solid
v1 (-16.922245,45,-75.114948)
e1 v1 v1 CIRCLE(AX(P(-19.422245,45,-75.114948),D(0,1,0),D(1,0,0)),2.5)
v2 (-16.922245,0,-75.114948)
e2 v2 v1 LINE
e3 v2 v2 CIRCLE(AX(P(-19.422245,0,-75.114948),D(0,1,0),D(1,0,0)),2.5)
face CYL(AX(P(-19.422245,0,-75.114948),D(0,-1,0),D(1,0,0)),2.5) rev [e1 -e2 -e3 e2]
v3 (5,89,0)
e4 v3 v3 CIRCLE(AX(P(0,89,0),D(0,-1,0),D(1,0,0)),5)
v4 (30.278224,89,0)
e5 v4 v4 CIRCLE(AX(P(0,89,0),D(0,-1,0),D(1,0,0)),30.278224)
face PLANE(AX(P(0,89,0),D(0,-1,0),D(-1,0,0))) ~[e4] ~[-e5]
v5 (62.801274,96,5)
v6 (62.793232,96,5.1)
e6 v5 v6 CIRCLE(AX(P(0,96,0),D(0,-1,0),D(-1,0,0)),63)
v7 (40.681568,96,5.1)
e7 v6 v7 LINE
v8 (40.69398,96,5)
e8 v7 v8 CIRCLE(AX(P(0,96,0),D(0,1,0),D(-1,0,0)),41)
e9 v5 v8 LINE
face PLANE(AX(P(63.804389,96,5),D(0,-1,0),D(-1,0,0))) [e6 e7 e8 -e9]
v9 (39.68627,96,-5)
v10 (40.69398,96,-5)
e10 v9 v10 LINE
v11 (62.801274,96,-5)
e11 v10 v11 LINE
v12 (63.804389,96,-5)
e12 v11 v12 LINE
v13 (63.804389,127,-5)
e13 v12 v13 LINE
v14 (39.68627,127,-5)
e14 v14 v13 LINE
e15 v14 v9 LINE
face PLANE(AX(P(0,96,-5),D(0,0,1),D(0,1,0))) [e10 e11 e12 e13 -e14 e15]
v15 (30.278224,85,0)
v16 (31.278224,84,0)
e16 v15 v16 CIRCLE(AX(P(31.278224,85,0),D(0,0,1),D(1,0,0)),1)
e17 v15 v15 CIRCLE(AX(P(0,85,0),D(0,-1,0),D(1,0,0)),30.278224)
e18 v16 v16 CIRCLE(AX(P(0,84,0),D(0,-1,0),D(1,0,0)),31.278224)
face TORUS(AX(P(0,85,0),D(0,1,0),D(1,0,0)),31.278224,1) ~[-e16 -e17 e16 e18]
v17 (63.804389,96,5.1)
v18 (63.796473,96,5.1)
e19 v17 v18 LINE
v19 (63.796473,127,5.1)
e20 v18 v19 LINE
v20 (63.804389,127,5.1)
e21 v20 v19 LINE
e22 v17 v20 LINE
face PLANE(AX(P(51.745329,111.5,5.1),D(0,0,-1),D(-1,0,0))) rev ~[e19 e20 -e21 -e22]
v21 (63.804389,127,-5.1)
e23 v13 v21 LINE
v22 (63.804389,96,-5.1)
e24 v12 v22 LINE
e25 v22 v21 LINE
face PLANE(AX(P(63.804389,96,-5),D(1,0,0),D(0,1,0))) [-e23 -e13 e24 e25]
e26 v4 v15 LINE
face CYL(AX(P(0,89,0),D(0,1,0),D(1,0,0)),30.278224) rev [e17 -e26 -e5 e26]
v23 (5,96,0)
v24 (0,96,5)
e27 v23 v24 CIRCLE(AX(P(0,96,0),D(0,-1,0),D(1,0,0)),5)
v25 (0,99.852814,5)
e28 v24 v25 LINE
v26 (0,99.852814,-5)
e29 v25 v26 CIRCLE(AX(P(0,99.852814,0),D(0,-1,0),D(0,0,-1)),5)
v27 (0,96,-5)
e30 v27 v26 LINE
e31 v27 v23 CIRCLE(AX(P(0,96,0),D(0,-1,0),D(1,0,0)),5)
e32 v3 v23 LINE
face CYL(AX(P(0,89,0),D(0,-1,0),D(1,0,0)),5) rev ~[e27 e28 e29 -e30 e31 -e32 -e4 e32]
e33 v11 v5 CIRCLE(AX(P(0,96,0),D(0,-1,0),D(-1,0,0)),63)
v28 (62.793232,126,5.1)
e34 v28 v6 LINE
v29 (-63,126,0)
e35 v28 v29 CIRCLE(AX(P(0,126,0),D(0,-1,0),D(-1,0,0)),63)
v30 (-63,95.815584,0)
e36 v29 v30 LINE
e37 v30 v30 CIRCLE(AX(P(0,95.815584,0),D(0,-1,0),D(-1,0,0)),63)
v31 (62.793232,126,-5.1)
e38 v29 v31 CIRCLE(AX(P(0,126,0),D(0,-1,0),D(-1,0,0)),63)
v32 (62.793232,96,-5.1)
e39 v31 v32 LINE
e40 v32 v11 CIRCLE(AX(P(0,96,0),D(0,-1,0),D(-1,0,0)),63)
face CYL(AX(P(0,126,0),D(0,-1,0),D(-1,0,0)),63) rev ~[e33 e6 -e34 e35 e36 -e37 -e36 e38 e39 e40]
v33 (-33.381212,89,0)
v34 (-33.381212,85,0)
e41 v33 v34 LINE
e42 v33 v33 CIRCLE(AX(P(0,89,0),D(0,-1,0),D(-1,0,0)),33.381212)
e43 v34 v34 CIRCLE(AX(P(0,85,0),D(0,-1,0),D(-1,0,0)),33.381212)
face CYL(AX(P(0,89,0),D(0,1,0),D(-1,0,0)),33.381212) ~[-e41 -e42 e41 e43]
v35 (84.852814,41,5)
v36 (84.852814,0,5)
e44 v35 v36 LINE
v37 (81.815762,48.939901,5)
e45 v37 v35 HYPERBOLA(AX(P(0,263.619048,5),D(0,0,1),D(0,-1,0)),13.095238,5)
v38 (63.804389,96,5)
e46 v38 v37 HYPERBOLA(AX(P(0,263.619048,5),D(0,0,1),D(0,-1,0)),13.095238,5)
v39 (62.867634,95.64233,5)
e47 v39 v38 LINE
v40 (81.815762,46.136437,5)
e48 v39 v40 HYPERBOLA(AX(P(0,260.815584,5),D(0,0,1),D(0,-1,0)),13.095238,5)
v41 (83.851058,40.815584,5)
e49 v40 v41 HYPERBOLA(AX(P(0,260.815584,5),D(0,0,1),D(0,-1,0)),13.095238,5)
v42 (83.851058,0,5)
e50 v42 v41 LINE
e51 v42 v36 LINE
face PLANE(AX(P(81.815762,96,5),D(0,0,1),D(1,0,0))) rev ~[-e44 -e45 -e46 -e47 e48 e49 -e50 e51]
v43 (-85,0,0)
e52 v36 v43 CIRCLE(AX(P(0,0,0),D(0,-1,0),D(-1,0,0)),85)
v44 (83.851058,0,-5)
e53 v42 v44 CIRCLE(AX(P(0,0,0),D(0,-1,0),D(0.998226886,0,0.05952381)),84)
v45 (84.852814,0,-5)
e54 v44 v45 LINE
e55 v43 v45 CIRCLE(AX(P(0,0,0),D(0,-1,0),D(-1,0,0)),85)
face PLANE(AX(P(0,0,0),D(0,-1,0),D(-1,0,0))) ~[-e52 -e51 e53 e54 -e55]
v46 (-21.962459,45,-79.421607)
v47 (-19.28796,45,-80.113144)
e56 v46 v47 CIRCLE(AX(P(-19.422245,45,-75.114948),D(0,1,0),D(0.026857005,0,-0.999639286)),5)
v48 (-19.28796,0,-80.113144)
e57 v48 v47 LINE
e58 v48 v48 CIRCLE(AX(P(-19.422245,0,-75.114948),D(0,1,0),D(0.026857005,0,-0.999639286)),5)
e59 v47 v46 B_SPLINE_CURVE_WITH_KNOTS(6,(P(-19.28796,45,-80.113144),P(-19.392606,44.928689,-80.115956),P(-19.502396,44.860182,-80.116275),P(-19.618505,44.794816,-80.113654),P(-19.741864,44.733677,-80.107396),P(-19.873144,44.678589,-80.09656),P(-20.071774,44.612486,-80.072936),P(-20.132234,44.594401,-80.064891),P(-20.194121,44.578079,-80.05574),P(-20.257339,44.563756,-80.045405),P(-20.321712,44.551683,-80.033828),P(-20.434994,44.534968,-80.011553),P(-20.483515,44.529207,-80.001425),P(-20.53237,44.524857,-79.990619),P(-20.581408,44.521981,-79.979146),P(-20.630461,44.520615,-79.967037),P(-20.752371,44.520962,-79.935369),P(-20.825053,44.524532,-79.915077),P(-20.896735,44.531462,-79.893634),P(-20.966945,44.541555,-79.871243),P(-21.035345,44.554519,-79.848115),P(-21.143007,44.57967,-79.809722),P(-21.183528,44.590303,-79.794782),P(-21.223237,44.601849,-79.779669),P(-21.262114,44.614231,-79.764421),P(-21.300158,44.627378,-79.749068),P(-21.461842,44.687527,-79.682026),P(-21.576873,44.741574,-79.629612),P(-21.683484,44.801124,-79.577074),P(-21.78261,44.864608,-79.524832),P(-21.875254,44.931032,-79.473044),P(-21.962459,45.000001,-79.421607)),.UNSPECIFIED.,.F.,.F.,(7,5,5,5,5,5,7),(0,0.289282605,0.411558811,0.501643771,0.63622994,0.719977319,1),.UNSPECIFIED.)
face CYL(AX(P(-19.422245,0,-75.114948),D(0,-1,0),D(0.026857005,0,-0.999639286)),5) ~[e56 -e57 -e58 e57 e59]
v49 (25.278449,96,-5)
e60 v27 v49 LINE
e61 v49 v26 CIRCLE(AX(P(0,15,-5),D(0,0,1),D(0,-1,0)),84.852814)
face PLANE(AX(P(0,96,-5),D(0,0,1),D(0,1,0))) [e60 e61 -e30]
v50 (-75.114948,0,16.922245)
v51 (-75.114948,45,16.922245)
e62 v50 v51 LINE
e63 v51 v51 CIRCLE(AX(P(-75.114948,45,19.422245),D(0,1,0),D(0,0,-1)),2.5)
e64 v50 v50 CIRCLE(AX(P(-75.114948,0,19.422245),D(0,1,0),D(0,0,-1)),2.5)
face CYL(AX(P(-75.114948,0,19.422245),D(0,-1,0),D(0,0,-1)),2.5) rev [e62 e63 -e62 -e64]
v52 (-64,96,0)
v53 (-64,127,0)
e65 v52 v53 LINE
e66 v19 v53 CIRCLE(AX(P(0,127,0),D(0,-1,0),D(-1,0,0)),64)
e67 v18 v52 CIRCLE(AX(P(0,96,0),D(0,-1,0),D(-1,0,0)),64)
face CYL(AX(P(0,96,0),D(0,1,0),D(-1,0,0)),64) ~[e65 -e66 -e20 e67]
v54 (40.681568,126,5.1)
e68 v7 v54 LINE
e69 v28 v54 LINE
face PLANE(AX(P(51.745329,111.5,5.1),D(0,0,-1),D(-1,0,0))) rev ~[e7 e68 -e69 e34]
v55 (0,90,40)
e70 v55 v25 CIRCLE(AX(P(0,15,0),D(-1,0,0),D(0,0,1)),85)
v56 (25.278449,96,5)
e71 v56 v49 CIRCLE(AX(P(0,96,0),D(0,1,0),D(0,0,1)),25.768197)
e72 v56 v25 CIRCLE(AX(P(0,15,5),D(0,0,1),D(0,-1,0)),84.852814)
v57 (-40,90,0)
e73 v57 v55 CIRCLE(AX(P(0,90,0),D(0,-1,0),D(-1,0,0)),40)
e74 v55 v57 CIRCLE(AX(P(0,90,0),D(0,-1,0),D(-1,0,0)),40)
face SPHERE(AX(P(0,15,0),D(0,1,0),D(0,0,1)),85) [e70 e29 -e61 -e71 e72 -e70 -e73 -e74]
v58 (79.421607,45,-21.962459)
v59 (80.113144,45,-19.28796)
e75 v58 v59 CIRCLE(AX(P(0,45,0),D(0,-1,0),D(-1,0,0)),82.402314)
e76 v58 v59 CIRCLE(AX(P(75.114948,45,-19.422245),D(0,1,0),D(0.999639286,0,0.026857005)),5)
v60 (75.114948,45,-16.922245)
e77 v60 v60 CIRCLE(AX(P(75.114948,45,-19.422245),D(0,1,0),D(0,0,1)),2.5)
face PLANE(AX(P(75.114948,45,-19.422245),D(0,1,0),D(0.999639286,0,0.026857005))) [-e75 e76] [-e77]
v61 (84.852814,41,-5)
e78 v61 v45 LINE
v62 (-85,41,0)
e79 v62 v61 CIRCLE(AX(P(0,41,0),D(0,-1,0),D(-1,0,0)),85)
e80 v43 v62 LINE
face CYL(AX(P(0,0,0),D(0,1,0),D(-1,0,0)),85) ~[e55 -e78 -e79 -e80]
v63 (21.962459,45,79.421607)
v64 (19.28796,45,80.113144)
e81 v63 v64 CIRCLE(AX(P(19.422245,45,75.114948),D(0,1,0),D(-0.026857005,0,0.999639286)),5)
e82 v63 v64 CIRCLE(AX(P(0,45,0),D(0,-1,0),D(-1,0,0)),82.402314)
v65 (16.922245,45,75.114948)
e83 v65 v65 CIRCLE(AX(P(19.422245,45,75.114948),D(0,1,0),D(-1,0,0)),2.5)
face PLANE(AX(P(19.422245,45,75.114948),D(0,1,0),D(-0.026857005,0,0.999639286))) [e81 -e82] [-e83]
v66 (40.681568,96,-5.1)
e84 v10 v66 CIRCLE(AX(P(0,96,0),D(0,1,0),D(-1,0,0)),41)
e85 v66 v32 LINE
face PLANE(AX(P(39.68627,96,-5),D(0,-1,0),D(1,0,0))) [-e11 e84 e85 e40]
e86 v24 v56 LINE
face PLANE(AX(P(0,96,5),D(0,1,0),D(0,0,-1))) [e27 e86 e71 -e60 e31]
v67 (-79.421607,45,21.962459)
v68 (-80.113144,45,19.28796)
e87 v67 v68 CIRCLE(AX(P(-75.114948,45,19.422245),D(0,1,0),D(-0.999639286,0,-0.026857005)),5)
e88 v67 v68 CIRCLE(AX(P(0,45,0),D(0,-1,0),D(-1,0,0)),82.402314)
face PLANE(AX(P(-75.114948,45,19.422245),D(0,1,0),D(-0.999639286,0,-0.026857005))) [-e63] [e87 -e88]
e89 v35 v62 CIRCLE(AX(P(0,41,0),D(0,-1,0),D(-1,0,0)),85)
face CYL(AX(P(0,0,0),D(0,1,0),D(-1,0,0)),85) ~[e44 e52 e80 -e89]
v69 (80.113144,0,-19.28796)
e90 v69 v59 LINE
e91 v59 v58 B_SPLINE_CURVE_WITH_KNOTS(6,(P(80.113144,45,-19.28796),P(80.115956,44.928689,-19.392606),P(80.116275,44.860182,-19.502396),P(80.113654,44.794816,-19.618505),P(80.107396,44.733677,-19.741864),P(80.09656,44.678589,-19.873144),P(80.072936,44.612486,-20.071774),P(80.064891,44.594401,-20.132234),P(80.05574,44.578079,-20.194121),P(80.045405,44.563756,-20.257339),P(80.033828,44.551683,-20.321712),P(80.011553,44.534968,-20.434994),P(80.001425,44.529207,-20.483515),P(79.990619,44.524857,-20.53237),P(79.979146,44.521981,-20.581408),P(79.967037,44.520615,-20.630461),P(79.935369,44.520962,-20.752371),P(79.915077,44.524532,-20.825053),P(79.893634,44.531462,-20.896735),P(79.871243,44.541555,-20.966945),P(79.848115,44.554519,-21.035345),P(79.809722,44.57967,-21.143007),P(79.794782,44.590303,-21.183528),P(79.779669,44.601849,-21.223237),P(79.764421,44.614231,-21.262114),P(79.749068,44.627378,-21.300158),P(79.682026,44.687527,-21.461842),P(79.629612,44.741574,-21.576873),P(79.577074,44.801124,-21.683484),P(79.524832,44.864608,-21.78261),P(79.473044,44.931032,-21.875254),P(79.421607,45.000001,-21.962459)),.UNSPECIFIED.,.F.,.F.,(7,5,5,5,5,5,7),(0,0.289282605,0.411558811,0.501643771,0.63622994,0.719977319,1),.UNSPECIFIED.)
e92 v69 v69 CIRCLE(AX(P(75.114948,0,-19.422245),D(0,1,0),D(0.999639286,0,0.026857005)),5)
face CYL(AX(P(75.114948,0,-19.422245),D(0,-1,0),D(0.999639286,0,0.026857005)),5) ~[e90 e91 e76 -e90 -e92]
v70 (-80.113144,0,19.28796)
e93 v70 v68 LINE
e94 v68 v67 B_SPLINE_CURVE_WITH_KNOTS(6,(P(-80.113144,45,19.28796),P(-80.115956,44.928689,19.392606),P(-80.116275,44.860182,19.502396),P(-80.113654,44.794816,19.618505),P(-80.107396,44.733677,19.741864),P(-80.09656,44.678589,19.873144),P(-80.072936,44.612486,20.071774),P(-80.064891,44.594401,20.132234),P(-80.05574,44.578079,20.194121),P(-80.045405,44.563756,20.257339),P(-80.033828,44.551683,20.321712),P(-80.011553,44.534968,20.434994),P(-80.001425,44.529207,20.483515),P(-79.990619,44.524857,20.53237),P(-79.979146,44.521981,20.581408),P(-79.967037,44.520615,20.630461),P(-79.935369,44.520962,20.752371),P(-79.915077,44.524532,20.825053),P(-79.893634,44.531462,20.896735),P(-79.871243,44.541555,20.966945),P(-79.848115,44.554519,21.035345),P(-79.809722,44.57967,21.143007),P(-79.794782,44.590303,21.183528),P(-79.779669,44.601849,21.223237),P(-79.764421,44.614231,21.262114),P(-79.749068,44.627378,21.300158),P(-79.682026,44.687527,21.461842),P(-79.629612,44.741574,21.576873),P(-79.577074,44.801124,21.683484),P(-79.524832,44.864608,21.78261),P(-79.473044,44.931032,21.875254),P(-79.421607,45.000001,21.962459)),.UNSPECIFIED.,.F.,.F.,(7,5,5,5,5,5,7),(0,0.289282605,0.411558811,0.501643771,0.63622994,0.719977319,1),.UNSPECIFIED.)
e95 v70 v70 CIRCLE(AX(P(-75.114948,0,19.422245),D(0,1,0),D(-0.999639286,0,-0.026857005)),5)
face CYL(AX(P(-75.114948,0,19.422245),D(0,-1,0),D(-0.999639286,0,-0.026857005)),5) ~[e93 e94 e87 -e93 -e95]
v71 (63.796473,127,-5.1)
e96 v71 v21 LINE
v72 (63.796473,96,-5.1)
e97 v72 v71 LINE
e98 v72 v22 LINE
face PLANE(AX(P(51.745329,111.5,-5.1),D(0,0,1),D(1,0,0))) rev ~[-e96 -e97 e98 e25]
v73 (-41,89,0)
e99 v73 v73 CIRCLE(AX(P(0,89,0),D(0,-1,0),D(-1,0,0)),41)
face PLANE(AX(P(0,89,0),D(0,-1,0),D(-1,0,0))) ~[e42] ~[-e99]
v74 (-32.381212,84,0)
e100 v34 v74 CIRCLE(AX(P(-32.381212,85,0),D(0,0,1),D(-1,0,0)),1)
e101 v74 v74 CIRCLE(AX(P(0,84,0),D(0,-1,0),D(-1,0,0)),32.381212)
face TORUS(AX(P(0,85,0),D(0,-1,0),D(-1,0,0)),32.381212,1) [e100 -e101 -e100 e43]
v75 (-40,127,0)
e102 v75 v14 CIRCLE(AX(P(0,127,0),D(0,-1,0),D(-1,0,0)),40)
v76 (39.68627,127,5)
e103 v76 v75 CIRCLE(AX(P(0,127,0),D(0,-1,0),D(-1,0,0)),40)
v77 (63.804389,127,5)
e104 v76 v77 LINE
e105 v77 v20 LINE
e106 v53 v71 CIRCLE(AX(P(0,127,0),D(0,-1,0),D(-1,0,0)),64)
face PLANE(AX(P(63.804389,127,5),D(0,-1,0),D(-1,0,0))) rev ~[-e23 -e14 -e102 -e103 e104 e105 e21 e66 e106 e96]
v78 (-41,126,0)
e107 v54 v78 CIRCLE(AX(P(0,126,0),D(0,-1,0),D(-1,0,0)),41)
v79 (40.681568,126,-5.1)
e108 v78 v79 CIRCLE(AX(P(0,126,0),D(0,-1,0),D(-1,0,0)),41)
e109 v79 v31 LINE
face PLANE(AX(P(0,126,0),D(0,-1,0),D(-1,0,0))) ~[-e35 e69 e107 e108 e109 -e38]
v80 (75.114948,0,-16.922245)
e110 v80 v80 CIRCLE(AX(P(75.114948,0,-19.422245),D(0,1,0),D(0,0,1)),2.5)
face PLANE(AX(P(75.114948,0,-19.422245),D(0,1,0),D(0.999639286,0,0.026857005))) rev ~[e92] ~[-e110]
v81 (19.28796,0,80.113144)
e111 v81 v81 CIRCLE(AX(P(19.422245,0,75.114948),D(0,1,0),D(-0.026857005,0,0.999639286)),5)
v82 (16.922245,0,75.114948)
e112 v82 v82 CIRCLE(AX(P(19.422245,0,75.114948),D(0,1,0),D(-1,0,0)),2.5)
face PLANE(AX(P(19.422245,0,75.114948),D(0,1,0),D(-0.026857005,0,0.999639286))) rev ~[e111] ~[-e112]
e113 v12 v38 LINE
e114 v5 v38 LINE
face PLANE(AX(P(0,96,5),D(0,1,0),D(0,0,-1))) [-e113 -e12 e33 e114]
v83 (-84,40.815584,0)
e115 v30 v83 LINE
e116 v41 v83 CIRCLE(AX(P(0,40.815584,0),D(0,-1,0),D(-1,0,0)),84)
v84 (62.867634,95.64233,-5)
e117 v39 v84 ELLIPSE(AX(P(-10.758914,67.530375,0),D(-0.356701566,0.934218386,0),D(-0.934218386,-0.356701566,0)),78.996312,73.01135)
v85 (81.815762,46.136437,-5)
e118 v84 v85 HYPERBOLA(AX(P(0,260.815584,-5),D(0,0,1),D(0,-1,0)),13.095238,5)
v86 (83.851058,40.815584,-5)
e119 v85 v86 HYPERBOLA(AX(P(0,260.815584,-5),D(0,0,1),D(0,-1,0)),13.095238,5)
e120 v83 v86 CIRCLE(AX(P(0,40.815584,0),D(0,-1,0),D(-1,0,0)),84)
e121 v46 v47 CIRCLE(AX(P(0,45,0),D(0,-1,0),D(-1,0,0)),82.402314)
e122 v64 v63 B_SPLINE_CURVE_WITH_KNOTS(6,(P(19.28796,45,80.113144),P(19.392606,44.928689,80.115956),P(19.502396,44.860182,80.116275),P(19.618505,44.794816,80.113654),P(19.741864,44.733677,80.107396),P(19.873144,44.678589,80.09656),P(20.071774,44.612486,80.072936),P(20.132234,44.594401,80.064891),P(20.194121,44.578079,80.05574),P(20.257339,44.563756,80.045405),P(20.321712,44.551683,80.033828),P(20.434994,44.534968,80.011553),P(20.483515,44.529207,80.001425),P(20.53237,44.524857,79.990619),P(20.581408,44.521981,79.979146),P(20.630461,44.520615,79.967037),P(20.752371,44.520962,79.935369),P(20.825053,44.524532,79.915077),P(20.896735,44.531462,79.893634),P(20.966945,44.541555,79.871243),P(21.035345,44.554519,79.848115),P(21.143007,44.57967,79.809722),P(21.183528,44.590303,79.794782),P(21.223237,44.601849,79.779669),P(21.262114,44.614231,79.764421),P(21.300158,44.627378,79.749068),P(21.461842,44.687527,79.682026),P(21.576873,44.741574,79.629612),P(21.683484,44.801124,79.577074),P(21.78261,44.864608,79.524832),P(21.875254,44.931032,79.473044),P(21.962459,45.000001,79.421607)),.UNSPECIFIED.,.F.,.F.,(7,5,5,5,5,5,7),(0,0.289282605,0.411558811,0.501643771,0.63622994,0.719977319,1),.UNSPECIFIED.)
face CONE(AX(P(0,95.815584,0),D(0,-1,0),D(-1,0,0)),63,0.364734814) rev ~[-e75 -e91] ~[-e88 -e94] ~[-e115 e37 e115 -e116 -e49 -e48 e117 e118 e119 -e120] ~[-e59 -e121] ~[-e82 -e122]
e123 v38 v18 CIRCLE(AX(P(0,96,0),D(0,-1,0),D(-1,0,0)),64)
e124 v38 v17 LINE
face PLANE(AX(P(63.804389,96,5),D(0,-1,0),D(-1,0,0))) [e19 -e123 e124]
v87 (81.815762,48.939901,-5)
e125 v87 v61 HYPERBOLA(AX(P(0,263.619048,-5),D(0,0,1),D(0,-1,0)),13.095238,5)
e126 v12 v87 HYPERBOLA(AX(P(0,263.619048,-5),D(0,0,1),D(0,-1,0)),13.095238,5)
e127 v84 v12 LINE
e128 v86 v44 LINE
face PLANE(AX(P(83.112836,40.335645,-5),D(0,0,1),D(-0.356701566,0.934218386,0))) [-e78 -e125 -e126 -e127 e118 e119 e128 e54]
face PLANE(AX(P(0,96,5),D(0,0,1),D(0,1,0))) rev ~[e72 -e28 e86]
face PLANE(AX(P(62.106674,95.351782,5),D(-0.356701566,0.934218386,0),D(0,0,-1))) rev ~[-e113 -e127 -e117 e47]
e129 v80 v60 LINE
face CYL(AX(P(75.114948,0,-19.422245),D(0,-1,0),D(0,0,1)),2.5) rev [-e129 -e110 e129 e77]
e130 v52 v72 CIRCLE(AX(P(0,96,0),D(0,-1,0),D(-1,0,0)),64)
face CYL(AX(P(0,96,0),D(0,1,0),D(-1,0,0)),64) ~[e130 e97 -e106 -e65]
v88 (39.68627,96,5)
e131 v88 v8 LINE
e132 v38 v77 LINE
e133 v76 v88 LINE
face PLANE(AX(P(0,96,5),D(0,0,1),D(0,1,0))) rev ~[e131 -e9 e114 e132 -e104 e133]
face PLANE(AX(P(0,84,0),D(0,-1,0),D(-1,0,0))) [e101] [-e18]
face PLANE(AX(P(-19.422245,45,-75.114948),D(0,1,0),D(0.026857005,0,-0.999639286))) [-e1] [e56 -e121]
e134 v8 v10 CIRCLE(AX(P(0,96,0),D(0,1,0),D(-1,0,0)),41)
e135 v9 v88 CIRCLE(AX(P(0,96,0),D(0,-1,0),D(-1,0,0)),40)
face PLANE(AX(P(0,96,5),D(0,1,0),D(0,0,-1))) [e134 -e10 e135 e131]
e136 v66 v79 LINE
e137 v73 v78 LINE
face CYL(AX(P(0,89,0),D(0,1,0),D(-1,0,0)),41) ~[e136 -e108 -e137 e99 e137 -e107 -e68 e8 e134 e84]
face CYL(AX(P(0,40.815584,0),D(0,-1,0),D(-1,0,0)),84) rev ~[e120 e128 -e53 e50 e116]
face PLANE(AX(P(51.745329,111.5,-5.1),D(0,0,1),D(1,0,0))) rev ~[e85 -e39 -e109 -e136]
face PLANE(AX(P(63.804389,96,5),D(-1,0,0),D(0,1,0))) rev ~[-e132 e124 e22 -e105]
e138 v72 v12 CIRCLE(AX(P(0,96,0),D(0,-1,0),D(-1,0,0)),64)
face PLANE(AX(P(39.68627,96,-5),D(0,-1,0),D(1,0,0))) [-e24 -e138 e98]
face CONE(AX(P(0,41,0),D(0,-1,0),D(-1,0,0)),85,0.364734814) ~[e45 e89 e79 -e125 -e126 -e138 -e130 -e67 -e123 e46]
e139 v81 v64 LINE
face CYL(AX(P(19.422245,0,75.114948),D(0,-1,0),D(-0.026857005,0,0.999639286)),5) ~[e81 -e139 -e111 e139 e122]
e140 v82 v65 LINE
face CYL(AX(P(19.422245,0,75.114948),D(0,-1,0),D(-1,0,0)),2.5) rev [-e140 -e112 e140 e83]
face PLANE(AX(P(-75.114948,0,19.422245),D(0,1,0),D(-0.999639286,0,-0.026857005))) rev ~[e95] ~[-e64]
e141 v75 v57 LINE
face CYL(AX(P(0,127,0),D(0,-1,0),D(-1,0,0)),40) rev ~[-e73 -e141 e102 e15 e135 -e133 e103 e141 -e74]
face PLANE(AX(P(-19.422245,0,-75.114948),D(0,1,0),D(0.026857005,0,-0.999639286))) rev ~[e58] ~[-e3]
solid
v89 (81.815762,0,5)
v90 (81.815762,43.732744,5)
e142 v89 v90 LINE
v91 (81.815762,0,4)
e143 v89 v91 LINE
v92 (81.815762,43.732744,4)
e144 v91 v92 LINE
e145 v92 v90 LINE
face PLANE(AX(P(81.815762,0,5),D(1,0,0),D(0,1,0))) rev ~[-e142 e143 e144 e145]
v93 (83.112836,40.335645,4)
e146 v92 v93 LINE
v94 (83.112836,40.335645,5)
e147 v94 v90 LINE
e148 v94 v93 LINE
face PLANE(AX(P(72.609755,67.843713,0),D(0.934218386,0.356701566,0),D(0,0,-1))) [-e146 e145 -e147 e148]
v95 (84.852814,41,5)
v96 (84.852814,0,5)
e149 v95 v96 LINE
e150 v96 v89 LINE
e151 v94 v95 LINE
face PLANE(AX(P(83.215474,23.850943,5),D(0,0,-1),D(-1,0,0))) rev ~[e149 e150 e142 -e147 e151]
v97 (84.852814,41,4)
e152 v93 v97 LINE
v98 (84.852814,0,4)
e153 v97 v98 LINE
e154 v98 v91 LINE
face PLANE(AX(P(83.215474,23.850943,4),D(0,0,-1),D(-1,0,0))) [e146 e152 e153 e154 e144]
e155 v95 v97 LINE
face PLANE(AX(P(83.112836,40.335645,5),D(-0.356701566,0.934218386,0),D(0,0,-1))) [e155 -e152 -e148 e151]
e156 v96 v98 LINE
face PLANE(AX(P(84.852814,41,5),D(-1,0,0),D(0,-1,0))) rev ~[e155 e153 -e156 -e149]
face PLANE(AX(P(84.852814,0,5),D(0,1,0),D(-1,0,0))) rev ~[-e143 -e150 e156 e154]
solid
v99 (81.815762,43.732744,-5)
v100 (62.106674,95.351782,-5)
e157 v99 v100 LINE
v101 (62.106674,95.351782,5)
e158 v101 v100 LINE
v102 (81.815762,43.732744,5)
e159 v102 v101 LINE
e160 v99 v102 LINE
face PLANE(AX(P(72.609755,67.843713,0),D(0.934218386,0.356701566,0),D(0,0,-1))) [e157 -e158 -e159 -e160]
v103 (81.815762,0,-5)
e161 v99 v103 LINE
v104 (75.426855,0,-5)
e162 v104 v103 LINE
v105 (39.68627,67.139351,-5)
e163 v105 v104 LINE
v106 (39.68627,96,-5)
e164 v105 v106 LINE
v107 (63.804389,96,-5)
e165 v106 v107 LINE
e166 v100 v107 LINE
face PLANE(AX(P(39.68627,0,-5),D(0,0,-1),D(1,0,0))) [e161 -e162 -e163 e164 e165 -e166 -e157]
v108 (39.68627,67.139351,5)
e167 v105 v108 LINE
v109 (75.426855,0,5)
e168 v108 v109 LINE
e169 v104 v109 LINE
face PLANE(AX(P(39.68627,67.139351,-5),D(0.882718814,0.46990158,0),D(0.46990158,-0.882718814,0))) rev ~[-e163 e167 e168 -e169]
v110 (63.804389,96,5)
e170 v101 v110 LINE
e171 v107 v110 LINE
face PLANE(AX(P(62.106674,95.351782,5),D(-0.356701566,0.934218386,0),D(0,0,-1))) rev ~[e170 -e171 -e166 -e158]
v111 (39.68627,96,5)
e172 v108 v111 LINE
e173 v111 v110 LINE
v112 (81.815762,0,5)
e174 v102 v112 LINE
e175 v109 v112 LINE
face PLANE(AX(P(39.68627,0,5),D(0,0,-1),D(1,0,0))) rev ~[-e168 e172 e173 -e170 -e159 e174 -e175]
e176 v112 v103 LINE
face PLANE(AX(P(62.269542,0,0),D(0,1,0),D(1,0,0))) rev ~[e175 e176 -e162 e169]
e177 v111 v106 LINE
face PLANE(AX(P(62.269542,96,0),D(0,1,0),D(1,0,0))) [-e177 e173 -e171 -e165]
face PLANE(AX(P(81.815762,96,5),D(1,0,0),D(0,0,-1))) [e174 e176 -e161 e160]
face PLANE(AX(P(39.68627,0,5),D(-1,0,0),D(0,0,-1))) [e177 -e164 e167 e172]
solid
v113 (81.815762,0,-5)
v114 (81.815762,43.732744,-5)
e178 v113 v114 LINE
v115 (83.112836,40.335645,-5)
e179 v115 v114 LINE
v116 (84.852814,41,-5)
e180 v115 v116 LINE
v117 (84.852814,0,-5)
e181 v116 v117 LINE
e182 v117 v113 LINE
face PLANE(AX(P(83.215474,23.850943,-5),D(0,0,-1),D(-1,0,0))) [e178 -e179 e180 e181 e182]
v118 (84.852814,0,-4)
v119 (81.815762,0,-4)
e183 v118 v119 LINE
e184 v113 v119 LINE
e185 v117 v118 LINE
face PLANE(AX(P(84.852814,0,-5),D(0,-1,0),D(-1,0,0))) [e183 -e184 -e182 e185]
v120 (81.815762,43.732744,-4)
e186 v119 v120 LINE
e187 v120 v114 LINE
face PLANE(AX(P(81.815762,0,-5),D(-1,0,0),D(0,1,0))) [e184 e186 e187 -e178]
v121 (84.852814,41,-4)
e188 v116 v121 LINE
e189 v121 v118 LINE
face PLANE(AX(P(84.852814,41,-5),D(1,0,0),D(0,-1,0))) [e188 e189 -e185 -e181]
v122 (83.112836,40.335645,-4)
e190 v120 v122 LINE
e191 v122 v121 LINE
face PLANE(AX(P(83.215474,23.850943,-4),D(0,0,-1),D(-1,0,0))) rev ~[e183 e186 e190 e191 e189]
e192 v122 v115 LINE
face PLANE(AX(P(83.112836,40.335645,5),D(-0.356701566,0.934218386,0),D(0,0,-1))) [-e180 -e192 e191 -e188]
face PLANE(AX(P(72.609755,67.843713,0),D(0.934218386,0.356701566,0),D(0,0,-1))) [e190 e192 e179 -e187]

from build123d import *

# Parameters (mm, degrees)
DOME4_FACE_RADIUS        = 40
DOME4_HEIGHT             = 10
SKETCH4_R                = 5
SKETCH4_R_2              = 2.5
BOSS_EXTRUDE1_DEPTH      = 45
CIRPATTERN1_COUNT        = 4
SKETCH5_W                = 10
SKETCH5_H                = 31
CUT_EXTRUDE2_DEPTH       = 89.861003778
SKETCH6_W                = 24.118118898
SKETCH6_H                = 31
BOSS_EXTRUDE2_DEPTH      = 0.1
SKETCH7_W                = 24.118118898
SKETCH7_H                = 31
BOSS_EXTRUDE3_DEPTH      = 0.1
SKETCH8_W                = 45.166544076
SKETCH8_H                = 10
BOSS_EXTRUDE5_DEPTH      = 96
CUT_EXTRUDE13_DEPTH      = 20
SKETCH12_W               = 3.037052207
SKETCH12_H               = 10
CUT_EXTRUDE15_DEPTH      = 190
SKETCH13_W               = 10
SKETCH13_H               = 96
CUT_EXTRUDE16_DEPTH      = 190
BOSS_EXTRUDE7_DEPTH      = 1
BOSS_EXTRUDE9_DEPTH      = 1
CUT_EXTRUDE17_DEPTH      = 31
CUT_EXTRUDE17_DEPTH_BACK = 2
SKETCH17_W               = 10
SKETCH17_H               = 58.890017455
SKETCH18_R               = 5
CUT_EXTRUDE18_DEPTH      = 42
SKETCH19_R               = 33.381211514
SKETCH19_R_2             = 30.278223776
BOSS_EXTRUDE10_DEPTH     = 5
FILLET2_R                = 1


with BuildPart() as part:
    # Sketch1 → Revolve1 (revolve)
    with BuildSketch(Plane.XY, mode=Mode.PRIVATE) as revolve1_sk:
        Polygon((85, 0), (85, 41), (64, 96), (64, 127), (40, 127), (40, 90), (0, 90), (0, 89), (41, 89), (41, 126), (63, 126), (63, 95.815583613), (84, 40.815583613), (84, 0), align=None)
    revolve(revolve1_sk.sketch.rotate(Axis((0, 90, 0), (0, -1, 0)), 180), axis=Axis((0, 90, 0), (0, -1, 0)))

    # Dome4: a dome of height H over a round flat face of radius A is a cap of a sphere of radius (A * A + H * H) / (2 * H)
    dome4_r = (DOME4_FACE_RADIUS * DOME4_FACE_RADIUS + DOME4_HEIGHT * DOME4_HEIGHT) / (2 * DOME4_HEIGHT)
    dome4_base = Plane((0, 90, 0), z_dir=(0, 1, 0))
    with Locations(dome4_base.offset(DOME4_HEIGHT - dome4_r)):
        dome4_ball = Sphere(dome4_r, mode=Mode.PRIVATE)
    add(split(dome4_ball, bisect_by=dome4_base, keep=Keep.TOP, mode=Mode.PRIVATE))

    # Sketch4 → Boss-Extrude1 (add)
    with BuildSketch(Plane(origin=(0, 0, 0), x_dir=(1, 0, 0), z_dir=(0, 1, 0))):
        with Locations(Location((-75.114947985, -19.422245118, 0), (0, 0, 178.461021893))):
            Circle(SKETCH4_R)
        with Locations(Location((-75.114947985, -19.422245118, 0), (0, 0, 90))):
            Circle(SKETCH4_R_2, mode=Mode.SUBTRACT)
    boss_extrude1 = extrude(amount=BOSS_EXTRUDE1_DEPTH)

    # CirPattern1: Boss-Extrude1 ×4 about axis
    cirpattern1_axis = Axis((0, 0, 0), (0, 1, 0))
    for i in range(1, CIRPATTERN1_COUNT):
        add(boss_extrude1.rotate(cirpattern1_axis, i * 360 / CIRPATTERN1_COUNT))

    # Sketch5 → Cut-Extrude2 (cut)
    with BuildSketch(Plane(origin=(0, 0, 0), x_dir=(0, 0, -1), z_dir=(1, 0, 0))):
        with Locations((0, 111.5)):
            Rectangle(SKETCH5_W, SKETCH5_H)
    extrude(amount=CUT_EXTRUDE2_DEPTH, mode=Mode.SUBTRACT)

    # Sketch6 → Boss-Extrude2 (add)
    with BuildSketch(Plane(origin=(0, 0, 5), x_dir=(-1, 0, 0), z_dir=(0, 0, -1))):
        with Locations((-51.745329115, 111.5)):
            Rectangle(SKETCH6_W, SKETCH6_H)
    extrude(amount=-BOSS_EXTRUDE2_DEPTH)

    # Sketch7 → Boss-Extrude3 (add)
    with BuildSketch(Plane.XY.offset(-5)):
        with Locations((51.745329115, 111.5)):
            Rectangle(SKETCH7_W, SKETCH7_H)
    extrude(amount=-BOSS_EXTRUDE3_DEPTH)


with BuildPart() as body_2:
    # Sketch8 → Boss-Extrude5 (new body)
    with BuildSketch(Plane(origin=(0, 0, 0), x_dir=(1, 0, 0), z_dir=(0, 1, 0))):
        with Locations((62.269541704, 0)):
            Rectangle(SKETCH8_W, SKETCH8_H)
    extrude(amount=BOSS_EXTRUDE5_DEPTH)

    # Sketch11 → Cut-Extrude13 (cut)
    with BuildSketch(Plane(origin=(0, 0, -5), x_dir=(-1, 0, 0), z_dir=(0, 0, -1))):
        Polygon((-39.686269666, 67.139351032), (-75.426855006, 0), (-39.686269666, 0), align=None)
    extrude(amount=-CUT_EXTRUDE13_DEPTH, mode=Mode.SUBTRACT)


with BuildPart() as cut_extrude15_tool:
    # Sketch12 → Cut-Extrude15 (new body)
    with BuildSketch(Plane(origin=(0, 96, 0), x_dir=(1, 0, 0), z_dir=(0, 1, 0))):
        with Locations((83.334287639, 0)):
            Rectangle(SKETCH12_W, SKETCH12_H)
    extrude(amount=-CUT_EXTRUDE15_DEPTH)


with BuildPart() as part_1:
    add(part.part)

    # Cut-Extrude15: cut by cut_extrude15_tool
    add(cut_extrude15_tool.part, mode=Mode.SUBTRACT)

    # Sketch13 → Cut-Extrude16 (cut)
    with BuildSketch(Plane(origin=(81.815761535, 0, 0), x_dir=(0, 0, -1), z_dir=(1, 0, 0))):
        with Locations((0, 48)):
            Rectangle(SKETCH13_W, SKETCH13_H)
    extrude(amount=CUT_EXTRUDE16_DEPTH, mode=Mode.SUBTRACT)


with BuildPart() as body_2_1:
    add(body_2.part)

    # Cut-Extrude15: cut by cut_extrude15_tool
    add(cut_extrude15_tool.part, mode=Mode.SUBTRACT)


with BuildPart() as body_3:
    # Sketch14 → Boss-Extrude7 (new body)
    with BuildSketch(Plane(origin=(0, 0, 5), x_dir=(-1, 0, 0), z_dir=(0, 0, -1))):
        Polygon((-81.815761535, 48.939900976), (-84.852813742, 41), (-84.852813742, 0), (-81.815761535, 0), align=None)
    extrude(amount=BOSS_EXTRUDE7_DEPTH)


with BuildPart() as body_4:
    # Sketch15 → Boss-Extrude9 (new body)
    with BuildSketch(Plane.XY.offset(-5)):
        Polygon((81.815761535, 48.939900976), (84.852813742, 41), (84.852813742, 0), (81.815761535, 0), align=None)
    extrude(amount=BOSS_EXTRUDE9_DEPTH)


with BuildPart() as cut_extrude17_tool:
    # Sketch17 → Cut-Extrude17 (new, two sides: drawn at the far end of the back side and taken through both)
    with BuildSketch(Plane(origin=(87.847663012, 33.541834968, 0), x_dir=(0, 0, -1), z_dir=(0.9342183861793726, 0.35670156563212446, 0)).offset(-CUT_EXTRUDE17_DEPTH_BACK)):
        with Locations((0, 37.480831051)):
            Rectangle(SKETCH17_W, SKETCH17_H)
    extrude(amount=CUT_EXTRUDE17_DEPTH + CUT_EXTRUDE17_DEPTH_BACK)


with BuildPart() as part_2:
    add(part_1.part)

    # Cut-Extrude17: cut by cut_extrude17_tool
    add(cut_extrude17_tool.part, mode=Mode.SUBTRACT)

    # Sketch18 → Cut-Extrude18 (cut)
    with BuildSketch(Plane.XZ.offset(-89)):
        Circle(SKETCH18_R)
    extrude(amount=-CUT_EXTRUDE18_DEPTH, mode=Mode.SUBTRACT)

    # Sketch19 → Boss-Extrude10 (add)
    with BuildSketch(Plane.XZ.offset(-89)):
        with Locations(Location((0, 0, 0), (0, 0, 180))):
            Circle(SKETCH19_R)
        Circle(SKETCH19_R_2, mode=Mode.SUBTRACT)
    extrude(amount=BOSS_EXTRUDE10_DEPTH)

    # Fillet2
    fillet2_edges = [part_2.edges().sort_by_distance(p)[0] for p in [
        (33.381211514, 84, 0),
        (-30.278223776, 84, 0),
    ]]
    fillet(fillet2_edges, radius=FILLET2_R)


with BuildPart() as body_2_2:
    add(body_2_1.part)

    # Cut-Extrude17: cut by cut_extrude17_tool
    add(cut_extrude17_tool.part, mode=Mode.SUBTRACT)


with BuildPart() as body_3_1:
    add(body_3.part)

    # Cut-Extrude17: cut by cut_extrude17_tool
    add(cut_extrude17_tool.part, mode=Mode.SUBTRACT)


with BuildPart() as body_4_1:
    add(body_4.part)

    # Cut-Extrude17: cut by cut_extrude17_tool
    add(cut_extrude17_tool.part, mode=Mode.SUBTRACT)


solid = Compound([part_2.part, body_2_2.part, body_3_1.part, body_4_1.part])
